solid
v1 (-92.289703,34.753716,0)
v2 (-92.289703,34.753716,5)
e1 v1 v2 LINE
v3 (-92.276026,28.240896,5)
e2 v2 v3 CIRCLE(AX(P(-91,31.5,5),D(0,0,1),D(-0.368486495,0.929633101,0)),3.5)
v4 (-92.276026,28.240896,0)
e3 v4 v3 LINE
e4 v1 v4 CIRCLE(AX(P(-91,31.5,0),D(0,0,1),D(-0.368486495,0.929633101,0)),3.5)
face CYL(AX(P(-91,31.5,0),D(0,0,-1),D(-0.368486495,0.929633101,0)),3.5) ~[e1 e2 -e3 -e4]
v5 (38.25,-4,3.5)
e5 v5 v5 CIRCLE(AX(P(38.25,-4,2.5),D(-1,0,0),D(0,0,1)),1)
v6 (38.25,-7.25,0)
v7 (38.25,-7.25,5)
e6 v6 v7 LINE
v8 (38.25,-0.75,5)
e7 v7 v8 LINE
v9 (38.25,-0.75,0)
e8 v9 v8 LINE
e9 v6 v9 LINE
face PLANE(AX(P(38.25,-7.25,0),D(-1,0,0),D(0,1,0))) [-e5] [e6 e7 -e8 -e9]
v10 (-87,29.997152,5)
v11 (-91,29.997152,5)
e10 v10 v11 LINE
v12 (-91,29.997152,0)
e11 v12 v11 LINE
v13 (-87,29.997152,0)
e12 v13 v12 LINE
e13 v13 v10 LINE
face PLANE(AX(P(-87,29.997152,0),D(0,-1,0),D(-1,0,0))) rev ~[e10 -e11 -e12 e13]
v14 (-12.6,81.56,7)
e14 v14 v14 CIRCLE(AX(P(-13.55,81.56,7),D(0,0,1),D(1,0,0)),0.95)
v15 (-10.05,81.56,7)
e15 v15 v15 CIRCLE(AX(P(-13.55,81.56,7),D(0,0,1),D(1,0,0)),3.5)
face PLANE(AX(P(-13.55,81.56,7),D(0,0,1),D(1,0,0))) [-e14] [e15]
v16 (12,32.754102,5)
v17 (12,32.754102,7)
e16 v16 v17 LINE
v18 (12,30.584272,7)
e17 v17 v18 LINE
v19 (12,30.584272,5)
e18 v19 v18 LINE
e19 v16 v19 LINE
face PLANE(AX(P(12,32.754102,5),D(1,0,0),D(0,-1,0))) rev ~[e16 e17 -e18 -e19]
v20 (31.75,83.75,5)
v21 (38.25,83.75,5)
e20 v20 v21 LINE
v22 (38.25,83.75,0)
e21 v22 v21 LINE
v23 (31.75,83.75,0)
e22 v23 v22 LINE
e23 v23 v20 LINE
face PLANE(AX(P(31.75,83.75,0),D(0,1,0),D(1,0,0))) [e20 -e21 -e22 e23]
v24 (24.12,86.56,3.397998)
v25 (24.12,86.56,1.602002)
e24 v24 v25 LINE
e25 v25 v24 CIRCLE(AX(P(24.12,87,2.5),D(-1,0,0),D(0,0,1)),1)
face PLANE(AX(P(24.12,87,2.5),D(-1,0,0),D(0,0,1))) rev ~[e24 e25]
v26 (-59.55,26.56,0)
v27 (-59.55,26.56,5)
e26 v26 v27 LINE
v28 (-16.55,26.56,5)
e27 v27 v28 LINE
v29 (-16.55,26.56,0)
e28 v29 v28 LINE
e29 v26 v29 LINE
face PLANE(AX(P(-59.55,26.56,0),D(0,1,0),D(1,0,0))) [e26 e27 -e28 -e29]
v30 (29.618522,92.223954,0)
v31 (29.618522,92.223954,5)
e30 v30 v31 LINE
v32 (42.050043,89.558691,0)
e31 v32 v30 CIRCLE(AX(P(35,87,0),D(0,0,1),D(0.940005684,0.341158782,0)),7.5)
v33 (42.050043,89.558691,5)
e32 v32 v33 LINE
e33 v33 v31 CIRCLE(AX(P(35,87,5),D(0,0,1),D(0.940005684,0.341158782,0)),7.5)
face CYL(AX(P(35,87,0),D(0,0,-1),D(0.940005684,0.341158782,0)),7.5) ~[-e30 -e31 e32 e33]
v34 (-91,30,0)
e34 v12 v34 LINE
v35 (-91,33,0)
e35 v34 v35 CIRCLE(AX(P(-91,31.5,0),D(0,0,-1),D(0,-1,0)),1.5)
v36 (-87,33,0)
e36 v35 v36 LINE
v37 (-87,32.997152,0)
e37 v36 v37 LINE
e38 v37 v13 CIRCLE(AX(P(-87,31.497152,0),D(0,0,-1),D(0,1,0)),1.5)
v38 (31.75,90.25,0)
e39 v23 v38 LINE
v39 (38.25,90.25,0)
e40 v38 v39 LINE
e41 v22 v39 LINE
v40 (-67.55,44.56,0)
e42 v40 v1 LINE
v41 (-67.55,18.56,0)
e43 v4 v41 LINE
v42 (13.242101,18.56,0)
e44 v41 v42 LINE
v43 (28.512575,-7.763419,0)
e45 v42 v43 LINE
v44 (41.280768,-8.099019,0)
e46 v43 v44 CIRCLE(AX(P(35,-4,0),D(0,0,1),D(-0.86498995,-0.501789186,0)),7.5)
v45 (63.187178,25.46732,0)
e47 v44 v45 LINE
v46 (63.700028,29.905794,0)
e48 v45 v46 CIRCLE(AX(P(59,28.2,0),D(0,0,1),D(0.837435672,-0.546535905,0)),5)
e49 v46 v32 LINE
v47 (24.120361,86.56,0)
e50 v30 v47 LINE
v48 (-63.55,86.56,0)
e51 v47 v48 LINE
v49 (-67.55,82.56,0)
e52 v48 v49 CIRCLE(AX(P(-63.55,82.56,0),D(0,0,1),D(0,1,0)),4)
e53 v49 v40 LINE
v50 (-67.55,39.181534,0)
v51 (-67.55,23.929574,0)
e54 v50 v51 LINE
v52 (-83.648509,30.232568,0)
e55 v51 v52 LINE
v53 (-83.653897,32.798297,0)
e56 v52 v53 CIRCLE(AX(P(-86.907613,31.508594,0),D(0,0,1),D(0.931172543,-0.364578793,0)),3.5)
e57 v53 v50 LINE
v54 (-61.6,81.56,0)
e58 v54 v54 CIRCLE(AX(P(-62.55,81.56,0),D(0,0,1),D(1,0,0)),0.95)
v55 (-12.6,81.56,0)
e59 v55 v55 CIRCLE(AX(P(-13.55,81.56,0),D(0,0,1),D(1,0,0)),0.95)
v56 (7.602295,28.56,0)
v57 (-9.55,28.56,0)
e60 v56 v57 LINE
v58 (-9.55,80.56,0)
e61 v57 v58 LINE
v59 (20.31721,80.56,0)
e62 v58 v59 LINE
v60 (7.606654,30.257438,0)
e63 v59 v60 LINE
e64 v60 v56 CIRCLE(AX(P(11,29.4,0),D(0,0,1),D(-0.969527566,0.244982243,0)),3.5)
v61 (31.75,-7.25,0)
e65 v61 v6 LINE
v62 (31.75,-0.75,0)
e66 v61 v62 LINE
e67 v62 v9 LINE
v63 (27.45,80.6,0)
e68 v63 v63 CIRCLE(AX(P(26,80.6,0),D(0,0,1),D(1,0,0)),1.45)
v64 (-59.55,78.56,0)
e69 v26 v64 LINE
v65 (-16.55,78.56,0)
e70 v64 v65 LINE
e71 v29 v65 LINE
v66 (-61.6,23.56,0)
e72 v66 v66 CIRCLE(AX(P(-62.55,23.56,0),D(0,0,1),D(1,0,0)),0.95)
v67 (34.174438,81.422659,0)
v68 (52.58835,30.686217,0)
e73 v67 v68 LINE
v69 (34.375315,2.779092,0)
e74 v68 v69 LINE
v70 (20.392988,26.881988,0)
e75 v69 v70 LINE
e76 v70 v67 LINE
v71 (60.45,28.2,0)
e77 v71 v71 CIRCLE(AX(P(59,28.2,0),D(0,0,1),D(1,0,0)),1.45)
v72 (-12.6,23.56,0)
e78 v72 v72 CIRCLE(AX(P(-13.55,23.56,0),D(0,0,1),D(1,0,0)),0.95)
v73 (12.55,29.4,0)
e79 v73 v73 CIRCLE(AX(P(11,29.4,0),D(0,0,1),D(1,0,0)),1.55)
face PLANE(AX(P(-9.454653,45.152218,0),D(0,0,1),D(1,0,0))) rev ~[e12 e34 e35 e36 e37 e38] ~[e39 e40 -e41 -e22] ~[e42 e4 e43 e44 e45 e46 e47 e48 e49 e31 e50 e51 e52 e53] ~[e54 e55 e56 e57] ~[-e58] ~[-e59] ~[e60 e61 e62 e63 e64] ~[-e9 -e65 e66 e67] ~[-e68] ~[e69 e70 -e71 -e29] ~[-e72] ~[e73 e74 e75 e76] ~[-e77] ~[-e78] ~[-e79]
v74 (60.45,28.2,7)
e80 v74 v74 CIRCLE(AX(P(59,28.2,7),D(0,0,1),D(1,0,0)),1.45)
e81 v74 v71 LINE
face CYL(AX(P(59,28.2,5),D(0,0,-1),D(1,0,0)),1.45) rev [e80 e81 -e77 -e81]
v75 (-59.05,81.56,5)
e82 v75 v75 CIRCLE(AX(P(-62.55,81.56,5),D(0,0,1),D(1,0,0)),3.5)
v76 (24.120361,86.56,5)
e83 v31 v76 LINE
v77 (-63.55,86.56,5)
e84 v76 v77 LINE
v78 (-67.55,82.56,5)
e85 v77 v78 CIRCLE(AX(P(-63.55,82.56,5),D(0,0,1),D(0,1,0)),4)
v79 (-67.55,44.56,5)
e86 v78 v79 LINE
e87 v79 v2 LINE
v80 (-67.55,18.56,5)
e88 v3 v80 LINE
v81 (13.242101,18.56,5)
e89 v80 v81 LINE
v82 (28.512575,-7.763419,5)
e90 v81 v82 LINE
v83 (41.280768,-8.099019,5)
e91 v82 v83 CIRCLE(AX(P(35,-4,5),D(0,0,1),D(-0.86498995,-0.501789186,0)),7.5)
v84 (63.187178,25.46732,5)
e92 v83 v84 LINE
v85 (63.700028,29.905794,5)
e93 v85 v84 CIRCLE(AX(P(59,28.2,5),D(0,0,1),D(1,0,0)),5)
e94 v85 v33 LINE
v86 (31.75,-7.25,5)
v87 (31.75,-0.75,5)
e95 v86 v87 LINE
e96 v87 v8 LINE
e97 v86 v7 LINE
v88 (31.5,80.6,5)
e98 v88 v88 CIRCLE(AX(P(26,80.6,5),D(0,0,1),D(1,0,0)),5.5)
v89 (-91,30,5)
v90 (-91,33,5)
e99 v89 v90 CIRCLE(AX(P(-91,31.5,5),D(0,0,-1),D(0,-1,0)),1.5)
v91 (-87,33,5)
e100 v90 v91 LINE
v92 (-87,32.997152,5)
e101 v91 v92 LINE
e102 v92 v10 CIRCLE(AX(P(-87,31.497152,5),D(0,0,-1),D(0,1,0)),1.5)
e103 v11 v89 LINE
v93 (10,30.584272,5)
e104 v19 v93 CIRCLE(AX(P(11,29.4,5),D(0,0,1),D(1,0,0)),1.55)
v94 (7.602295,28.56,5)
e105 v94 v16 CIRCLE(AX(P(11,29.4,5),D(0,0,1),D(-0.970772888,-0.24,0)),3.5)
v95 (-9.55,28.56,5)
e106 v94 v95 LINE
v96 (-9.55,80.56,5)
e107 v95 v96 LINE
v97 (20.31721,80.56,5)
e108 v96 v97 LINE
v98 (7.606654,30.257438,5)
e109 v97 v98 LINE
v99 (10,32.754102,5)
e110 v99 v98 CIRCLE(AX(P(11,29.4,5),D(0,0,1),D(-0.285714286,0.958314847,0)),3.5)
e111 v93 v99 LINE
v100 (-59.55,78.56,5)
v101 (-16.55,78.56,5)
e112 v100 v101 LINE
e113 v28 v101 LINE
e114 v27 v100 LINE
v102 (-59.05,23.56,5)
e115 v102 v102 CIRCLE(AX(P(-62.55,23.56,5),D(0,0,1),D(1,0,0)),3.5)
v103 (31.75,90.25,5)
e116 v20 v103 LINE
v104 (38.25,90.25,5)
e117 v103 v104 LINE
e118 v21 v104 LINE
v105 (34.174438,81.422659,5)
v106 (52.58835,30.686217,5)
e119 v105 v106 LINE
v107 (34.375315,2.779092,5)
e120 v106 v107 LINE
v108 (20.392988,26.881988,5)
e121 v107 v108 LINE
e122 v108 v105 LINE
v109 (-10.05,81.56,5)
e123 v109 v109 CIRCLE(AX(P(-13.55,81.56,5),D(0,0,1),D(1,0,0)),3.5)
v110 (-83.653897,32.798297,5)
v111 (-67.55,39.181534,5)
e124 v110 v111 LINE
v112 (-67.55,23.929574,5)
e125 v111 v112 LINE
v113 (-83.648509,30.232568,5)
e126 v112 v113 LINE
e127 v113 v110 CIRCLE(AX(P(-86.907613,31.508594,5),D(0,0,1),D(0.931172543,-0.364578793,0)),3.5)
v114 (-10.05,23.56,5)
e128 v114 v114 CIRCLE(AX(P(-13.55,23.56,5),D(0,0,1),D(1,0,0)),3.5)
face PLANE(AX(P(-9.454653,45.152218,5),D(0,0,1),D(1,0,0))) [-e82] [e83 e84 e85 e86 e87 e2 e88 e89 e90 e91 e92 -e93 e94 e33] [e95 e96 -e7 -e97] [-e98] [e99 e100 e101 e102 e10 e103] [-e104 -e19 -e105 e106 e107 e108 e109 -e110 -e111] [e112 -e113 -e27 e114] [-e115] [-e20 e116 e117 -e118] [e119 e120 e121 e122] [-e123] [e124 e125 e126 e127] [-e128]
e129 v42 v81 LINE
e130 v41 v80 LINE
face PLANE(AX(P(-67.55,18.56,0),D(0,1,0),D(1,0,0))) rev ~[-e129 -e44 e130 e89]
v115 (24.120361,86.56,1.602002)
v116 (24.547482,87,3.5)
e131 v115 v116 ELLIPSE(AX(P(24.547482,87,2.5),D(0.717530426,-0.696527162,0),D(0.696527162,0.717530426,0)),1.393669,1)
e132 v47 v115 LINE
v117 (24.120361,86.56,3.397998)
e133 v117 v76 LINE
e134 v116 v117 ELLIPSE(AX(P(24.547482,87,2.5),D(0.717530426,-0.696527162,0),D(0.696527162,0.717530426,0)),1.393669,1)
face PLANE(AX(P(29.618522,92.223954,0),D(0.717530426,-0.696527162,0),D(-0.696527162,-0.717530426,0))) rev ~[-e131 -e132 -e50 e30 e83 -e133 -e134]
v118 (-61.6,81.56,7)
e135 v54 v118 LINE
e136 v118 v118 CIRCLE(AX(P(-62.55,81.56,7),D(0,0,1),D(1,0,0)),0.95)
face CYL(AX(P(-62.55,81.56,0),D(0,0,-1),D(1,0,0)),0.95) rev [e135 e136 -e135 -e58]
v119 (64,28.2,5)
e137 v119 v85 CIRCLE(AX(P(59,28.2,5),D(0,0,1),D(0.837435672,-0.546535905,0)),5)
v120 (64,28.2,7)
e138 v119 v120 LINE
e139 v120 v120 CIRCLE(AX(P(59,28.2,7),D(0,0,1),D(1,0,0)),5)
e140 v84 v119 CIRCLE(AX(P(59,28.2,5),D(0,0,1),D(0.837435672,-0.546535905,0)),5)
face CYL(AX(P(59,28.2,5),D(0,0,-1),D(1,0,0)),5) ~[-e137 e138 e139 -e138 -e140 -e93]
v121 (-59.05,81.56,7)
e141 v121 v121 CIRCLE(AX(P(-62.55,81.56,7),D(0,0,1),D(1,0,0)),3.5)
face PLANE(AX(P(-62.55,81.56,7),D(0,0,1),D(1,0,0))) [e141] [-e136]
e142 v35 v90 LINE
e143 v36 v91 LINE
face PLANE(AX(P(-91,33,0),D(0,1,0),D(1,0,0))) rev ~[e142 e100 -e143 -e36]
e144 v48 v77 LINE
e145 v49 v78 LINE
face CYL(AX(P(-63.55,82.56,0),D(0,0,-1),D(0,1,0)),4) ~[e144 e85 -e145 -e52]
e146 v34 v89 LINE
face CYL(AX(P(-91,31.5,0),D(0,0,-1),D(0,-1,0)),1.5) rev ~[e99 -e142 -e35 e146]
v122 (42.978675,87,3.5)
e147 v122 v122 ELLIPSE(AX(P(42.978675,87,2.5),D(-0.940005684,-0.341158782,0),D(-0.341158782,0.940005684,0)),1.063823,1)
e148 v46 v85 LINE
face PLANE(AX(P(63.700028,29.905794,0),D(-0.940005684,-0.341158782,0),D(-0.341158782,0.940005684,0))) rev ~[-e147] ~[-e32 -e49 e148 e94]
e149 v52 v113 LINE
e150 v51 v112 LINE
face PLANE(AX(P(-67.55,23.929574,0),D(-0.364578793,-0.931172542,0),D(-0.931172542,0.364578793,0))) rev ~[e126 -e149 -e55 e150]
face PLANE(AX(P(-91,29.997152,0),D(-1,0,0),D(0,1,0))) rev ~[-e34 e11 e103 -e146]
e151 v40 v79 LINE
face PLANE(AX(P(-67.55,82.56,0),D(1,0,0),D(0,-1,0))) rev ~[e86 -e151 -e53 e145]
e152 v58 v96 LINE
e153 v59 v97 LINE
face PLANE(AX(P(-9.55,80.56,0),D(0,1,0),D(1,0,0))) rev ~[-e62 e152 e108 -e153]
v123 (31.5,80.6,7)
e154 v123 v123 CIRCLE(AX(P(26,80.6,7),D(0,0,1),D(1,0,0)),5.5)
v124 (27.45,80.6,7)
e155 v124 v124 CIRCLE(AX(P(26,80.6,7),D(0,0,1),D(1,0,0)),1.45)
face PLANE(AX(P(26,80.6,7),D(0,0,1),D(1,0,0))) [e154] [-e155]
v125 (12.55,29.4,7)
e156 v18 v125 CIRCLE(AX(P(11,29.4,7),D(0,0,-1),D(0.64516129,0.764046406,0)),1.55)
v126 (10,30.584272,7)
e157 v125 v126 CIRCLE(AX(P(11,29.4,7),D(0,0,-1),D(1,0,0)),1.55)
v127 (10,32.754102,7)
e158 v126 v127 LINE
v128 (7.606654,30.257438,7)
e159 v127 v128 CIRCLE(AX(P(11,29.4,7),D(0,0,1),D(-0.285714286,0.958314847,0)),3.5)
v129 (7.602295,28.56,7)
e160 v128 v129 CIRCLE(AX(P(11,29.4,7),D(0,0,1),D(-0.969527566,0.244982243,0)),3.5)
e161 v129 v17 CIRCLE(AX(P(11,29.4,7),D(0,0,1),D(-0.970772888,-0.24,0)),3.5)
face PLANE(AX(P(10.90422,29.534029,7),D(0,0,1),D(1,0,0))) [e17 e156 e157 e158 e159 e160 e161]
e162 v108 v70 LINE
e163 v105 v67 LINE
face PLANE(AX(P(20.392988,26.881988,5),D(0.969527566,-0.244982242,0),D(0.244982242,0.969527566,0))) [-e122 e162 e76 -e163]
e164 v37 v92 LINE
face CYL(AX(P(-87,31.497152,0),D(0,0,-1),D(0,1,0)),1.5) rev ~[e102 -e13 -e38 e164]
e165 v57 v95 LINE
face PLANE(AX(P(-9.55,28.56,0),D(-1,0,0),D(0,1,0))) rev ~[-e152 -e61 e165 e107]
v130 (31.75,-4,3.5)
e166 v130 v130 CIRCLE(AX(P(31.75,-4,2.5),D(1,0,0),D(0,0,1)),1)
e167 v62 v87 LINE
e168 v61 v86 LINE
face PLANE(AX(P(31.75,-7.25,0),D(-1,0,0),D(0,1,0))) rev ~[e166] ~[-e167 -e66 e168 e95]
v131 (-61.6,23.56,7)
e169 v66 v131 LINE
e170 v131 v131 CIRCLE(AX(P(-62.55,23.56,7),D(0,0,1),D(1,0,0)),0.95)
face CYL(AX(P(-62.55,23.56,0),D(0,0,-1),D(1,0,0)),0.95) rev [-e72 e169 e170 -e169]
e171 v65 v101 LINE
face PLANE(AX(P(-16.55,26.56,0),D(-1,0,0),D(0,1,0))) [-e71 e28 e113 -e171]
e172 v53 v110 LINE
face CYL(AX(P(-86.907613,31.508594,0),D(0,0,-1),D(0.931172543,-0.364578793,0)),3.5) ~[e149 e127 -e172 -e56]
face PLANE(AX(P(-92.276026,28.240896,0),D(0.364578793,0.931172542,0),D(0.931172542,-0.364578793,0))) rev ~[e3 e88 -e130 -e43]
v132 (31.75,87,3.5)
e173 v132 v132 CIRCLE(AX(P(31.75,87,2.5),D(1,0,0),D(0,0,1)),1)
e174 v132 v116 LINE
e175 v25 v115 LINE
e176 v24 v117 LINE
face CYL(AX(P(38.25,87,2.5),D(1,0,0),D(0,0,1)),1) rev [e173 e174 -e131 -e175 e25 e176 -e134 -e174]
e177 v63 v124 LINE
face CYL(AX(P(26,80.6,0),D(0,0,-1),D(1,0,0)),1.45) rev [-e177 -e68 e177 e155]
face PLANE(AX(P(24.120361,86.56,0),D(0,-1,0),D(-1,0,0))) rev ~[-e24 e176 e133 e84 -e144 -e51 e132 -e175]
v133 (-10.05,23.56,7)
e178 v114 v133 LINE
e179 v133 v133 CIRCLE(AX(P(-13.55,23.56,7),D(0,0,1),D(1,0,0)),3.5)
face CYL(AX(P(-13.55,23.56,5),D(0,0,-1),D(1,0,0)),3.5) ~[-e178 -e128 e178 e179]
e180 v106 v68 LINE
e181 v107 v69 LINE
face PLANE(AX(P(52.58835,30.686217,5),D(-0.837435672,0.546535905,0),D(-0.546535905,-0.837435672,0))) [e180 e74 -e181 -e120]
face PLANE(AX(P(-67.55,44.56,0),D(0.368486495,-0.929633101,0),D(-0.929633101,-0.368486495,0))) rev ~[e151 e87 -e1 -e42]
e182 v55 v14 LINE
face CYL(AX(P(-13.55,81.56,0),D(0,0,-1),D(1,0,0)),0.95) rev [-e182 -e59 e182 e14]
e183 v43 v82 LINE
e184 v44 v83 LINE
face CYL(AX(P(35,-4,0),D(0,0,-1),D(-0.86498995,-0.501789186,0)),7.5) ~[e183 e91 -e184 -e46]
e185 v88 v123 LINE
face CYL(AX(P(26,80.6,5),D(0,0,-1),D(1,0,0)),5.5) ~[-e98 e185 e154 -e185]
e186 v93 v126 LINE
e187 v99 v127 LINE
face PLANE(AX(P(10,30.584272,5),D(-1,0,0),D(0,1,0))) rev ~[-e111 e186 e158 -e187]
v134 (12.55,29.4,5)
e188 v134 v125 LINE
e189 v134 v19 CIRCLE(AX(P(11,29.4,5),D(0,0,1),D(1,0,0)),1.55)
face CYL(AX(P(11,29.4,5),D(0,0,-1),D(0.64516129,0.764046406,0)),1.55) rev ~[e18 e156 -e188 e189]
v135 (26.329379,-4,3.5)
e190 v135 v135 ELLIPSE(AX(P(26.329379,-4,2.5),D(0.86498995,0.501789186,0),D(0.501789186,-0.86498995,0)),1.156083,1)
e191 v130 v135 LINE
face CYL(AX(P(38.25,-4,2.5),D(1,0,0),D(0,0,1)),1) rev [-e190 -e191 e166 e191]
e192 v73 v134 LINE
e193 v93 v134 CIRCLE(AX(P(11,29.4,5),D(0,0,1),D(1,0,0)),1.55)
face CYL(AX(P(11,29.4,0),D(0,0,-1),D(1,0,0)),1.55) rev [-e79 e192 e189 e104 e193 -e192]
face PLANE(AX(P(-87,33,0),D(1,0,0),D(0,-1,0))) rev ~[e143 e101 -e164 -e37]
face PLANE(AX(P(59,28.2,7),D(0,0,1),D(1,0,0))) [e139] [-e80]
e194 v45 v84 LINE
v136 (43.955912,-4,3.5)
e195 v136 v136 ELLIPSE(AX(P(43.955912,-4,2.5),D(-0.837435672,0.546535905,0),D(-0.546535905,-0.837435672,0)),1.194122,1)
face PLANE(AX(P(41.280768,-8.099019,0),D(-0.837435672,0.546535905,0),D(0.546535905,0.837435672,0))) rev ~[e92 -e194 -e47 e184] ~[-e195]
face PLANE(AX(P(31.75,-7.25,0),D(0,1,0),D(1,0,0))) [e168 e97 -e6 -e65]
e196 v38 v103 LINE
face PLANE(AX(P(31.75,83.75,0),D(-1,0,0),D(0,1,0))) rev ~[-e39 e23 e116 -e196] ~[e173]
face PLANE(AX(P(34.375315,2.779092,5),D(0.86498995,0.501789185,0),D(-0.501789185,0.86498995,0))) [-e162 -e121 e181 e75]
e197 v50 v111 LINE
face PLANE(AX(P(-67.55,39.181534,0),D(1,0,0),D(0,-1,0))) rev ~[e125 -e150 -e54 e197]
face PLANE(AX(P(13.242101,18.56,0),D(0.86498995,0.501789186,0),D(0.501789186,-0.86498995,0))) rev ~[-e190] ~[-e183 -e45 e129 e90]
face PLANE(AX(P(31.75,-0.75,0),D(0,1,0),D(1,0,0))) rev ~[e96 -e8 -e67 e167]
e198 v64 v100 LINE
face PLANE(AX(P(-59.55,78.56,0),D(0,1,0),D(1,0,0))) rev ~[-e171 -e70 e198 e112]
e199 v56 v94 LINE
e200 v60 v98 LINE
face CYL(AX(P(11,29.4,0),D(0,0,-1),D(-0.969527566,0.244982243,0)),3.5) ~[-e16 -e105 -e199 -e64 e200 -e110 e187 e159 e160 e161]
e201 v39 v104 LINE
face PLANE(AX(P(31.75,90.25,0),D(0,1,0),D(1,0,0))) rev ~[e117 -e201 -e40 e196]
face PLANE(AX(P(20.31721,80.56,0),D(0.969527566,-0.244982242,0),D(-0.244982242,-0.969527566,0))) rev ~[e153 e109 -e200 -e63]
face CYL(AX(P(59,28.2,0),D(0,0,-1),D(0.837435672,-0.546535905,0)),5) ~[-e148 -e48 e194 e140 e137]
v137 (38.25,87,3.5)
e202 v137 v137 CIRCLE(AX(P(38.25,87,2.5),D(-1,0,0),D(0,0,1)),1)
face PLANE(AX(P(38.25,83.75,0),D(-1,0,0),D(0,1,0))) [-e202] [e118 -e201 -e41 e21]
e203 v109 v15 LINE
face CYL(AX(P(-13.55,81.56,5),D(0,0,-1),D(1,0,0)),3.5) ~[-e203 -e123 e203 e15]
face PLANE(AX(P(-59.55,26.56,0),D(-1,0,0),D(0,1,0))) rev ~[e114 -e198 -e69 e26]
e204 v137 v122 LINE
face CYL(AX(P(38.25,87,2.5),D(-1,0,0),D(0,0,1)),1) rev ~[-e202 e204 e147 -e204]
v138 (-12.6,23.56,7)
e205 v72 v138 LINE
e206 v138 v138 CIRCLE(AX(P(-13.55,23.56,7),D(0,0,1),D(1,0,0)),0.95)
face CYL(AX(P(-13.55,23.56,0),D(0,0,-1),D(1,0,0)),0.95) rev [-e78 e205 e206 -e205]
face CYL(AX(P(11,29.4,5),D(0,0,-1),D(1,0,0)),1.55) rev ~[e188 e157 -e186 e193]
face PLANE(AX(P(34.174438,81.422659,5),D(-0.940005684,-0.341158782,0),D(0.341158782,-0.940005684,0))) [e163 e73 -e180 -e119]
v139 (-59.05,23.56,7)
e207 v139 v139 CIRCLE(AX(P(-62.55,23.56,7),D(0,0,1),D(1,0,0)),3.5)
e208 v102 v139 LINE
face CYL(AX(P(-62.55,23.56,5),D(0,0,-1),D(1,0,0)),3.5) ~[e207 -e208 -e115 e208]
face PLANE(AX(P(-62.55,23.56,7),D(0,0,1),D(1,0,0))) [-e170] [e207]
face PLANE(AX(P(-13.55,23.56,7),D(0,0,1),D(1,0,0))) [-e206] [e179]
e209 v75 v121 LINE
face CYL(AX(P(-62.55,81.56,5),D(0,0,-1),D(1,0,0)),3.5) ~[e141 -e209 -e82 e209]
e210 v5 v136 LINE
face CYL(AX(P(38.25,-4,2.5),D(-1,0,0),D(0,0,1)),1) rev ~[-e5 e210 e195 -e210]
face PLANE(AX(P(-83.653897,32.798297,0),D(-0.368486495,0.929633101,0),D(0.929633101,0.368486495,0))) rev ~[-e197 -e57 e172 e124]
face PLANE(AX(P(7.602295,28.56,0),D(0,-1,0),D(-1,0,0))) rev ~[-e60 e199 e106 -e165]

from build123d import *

# Parameters (mm, degrees)
SKETCH1_R               = 0.95
SKETCH1_W               = 6.5
SKETCH1_H               = 6.5
SKETCH1_R_2             = 1.55
SKETCH1_R_3             = 1.45
SKETCH1_W_2             = 43
SKETCH1_H_2             = 52
BOSS_EXTRUDE1_DEPTH     = 5
SKETCH3_R               = 5
SKETCH3_R_2             = 1.45
SKETCH3_R_3             = 5.5
SKETCH3_R_4             = 3.5
SKETCH3_R_5             = 0.95
BOSS_EXTRUDE3_DEPTH     = 2
CUT_EXTRUDE1_DEPTH      = 10
SKETCH6_R               = 1
CUT_EXTRUDE2_DEPTH      = 14.13
CUT_EXTRUDE2_DEPTH_BACK = 10


with BuildPart() as part:
    # Sketch1 → Boss-Extrude1 (new body)
    with BuildSketch(Plane.XY):
        with BuildLine():
            Line((13.24210093, 18.56), (28.512575376, -7.763418891))
            ThreePointArc((28.512575376, -7.763418891), (34.802937336, -11.49741064), (41.280767541, -8.099019285))
            Line((41.280767541, -8.099019285), (63.187178361, 25.467320477))
            ThreePointArc((63.187178361, 25.467320477), (63.966953059, 27.626085973), (63.700028418, 29.905793912))
            Line((63.700028418, 29.905793912), (42.050042627, 89.558690868))
            ThreePointArc((42.050042627, 89.558690868), (36.572238317, 94.333353031), (29.618521803, 92.223953715))
            Line((29.618521803, 92.223953715), (24.120361081, 86.56))
            Line((24.120361081, 86.56), (-63.55, 86.56))
            ThreePointArc((-63.55, 86.56), (-66.378427125, 85.388427125), (-67.55, 82.56))
            Line((-67.55, 82.56), (-67.55, 44.56))
            Line((-67.55, 44.56), (-92.289702732, 34.753715855))
            ThreePointArc((-92.289702732, 34.753715855), (-94.499992282, 31.492649998), (-92.276025776, 28.240896102))
            Line((-92.276025776, 28.240896102), (-67.55, 18.56))
            Line((-67.55, 18.56), (13.24210093, 18.56))
        make_face()
        with Locations((-62.55, 23.56)):
            Circle(SKETCH1_R, mode=Mode.SUBTRACT)
        with BuildLine():
            ThreePointArc((-87, 32.997152184), (-85.5, 31.497152184), (-87, 29.997152184))
            Line((-87, 29.997152184), (-91, 29.997152184))
            Line((-91, 29.997152184), (-91, 30))
            ThreePointArc((-91, 30), (-92.5, 31.5), (-91, 33))
            Line((-91, 33), (-87, 33))
            Line((-87, 33), (-87, 32.997152184))
        make_face(mode=Mode.SUBTRACT)
        with BuildLine():
            Line((-67.55, 23.929574136), (-83.648509217, 30.232568258))
            ThreePointArc((-83.648509217, 30.232568258), (-83.407620833, 31.515944037), (-83.65389726, 32.798296766))
            Line((-83.65389726, 32.798296766), (-67.55, 39.18153403))
            Line((-67.55, 39.18153403), (-67.55, 23.929574136))
        make_face(mode=Mode.SUBTRACT)
        with Locations((35, -4)):
            Rectangle(SKETCH1_W, SKETCH1_H, mode=Mode.SUBTRACT)
        with Locations((11, 29.4)):
            Circle(SKETCH1_R_2, mode=Mode.SUBTRACT)
        with Locations((59, 28.2)):
            Circle(SKETCH1_R_3, mode=Mode.SUBTRACT)
        with Locations((-38.05, 52.56)):
            Rectangle(SKETCH1_W_2, SKETCH1_H_2, mode=Mode.SUBTRACT)
        with Locations((-62.55, 81.56)):
            Circle(SKETCH1_R, mode=Mode.SUBTRACT)
        with BuildLine():
            ThreePointArc((7.606653519, 30.257437846), (7.500011538, 29.408987159), (7.602294892, 28.56))
            Line((7.602294892, 28.56), (-9.55, 28.56))
            Line((-9.55, 28.56), (-9.55, 80.56))
            Line((-9.55, 80.56), (20.317209538, 80.56))
            Line((20.317209538, 80.56), (7.606653519, 30.257437846))
        make_face(mode=Mode.SUBTRACT)
        with Locations((-13.55, 81.56)):
            Circle(SKETCH1_R, mode=Mode.SUBTRACT)
        with Locations((26, 80.6)):
            Circle(SKETCH1_R_3, mode=Mode.SUBTRACT)
        with Locations((35, 87)):
            Rectangle(SKETCH1_W, SKETCH1_H, mode=Mode.SUBTRACT)
        with Locations((-13.55, 23.56)):
            Circle(SKETCH1_R, mode=Mode.SUBTRACT)
    extrude(amount=BOSS_EXTRUDE1_DEPTH)

    # Sketch3 → Boss-Extrude3 (add)
    with BuildSketch(Plane.XY.offset(5)):
        with Locations((59, 28.2)):
            Circle(SKETCH3_R)
        with Locations((59, 28.2)):
            Circle(SKETCH3_R_2, mode=Mode.SUBTRACT)
        with Locations((26, 80.6)):
            Circle(SKETCH3_R_3)
        with Locations((26, 80.6)):
            Circle(SKETCH3_R_2, mode=Mode.SUBTRACT)
        with BuildLine():
            ThreePointArc((12.55, 29.4), (10.347121757, 27.994208408), (10, 30.584271928))
            Line((10, 30.584271928), (10, 32.754101966))
            ThreePointArc((10, 32.754101966), (8.473400258, 31.822043299), (7.606653519, 30.257437846))
            ThreePointArc((7.606653519, 30.257437846), (7.500011538, 29.408987159), (7.602294892, 28.56))
            ThreePointArc((7.602294892, 28.56), (13.415547613, 26.867189362), (12, 32.754101966))
            Line((12, 32.754101966), (12, 30.584271928))
            ThreePointArc((12, 30.584271928), (12.405791592, 30.052878243), (12.55, 29.4))
        make_face()
        with Locations((-13.55, 23.56)):
            Circle(SKETCH3_R_4)
        with Locations((-13.55, 23.56)):
            Circle(SKETCH3_R_5, mode=Mode.SUBTRACT)
        with Locations((-62.55, 23.56)):
            Circle(SKETCH3_R_4)
        with Locations((-62.55, 23.56)):
            Circle(SKETCH3_R_5, mode=Mode.SUBTRACT)
        with Locations((-62.55, 81.56)):
            Circle(SKETCH3_R_4)
        with Locations((-62.55, 81.56)):
            Circle(SKETCH3_R_5, mode=Mode.SUBTRACT)
        with Locations((-13.55, 81.56)):
            Circle(SKETCH3_R_4)
        with Locations((-13.55, 81.56)):
            Circle(SKETCH3_R_5, mode=Mode.SUBTRACT)
    extrude(amount=BOSS_EXTRUDE3_DEPTH)

    # Sketch4 → Cut-Extrude1 (cut)
    with BuildSketch(Plane.XY.offset(5)):
        Polygon((34.174437675, 81.42265859), (52.588350326, 30.686217258), (34.375314724, 2.779092439), (20.392987639, 26.881988144), align=None)
    extrude(amount=-CUT_EXTRUDE1_DEPTH, mode=Mode.SUBTRACT)

    # Sketch6 → Cut-Extrude2 (cut, two sides)
    with BuildSketch(Plane.ZY.offset(-38.25)) as cut_extrude2_sk:
        with Locations((2.5, -4)):
            Circle(SKETCH6_R)
        with Locations((2.5, 87)):
            Circle(SKETCH6_R)
    extrude(amount=CUT_EXTRUDE2_DEPTH, mode=Mode.SUBTRACT)
    extrude(cut_extrude2_sk.sketch, amount=-CUT_EXTRUDE2_DEPTH_BACK, mode=Mode.SUBTRACT)


solid = part.part
